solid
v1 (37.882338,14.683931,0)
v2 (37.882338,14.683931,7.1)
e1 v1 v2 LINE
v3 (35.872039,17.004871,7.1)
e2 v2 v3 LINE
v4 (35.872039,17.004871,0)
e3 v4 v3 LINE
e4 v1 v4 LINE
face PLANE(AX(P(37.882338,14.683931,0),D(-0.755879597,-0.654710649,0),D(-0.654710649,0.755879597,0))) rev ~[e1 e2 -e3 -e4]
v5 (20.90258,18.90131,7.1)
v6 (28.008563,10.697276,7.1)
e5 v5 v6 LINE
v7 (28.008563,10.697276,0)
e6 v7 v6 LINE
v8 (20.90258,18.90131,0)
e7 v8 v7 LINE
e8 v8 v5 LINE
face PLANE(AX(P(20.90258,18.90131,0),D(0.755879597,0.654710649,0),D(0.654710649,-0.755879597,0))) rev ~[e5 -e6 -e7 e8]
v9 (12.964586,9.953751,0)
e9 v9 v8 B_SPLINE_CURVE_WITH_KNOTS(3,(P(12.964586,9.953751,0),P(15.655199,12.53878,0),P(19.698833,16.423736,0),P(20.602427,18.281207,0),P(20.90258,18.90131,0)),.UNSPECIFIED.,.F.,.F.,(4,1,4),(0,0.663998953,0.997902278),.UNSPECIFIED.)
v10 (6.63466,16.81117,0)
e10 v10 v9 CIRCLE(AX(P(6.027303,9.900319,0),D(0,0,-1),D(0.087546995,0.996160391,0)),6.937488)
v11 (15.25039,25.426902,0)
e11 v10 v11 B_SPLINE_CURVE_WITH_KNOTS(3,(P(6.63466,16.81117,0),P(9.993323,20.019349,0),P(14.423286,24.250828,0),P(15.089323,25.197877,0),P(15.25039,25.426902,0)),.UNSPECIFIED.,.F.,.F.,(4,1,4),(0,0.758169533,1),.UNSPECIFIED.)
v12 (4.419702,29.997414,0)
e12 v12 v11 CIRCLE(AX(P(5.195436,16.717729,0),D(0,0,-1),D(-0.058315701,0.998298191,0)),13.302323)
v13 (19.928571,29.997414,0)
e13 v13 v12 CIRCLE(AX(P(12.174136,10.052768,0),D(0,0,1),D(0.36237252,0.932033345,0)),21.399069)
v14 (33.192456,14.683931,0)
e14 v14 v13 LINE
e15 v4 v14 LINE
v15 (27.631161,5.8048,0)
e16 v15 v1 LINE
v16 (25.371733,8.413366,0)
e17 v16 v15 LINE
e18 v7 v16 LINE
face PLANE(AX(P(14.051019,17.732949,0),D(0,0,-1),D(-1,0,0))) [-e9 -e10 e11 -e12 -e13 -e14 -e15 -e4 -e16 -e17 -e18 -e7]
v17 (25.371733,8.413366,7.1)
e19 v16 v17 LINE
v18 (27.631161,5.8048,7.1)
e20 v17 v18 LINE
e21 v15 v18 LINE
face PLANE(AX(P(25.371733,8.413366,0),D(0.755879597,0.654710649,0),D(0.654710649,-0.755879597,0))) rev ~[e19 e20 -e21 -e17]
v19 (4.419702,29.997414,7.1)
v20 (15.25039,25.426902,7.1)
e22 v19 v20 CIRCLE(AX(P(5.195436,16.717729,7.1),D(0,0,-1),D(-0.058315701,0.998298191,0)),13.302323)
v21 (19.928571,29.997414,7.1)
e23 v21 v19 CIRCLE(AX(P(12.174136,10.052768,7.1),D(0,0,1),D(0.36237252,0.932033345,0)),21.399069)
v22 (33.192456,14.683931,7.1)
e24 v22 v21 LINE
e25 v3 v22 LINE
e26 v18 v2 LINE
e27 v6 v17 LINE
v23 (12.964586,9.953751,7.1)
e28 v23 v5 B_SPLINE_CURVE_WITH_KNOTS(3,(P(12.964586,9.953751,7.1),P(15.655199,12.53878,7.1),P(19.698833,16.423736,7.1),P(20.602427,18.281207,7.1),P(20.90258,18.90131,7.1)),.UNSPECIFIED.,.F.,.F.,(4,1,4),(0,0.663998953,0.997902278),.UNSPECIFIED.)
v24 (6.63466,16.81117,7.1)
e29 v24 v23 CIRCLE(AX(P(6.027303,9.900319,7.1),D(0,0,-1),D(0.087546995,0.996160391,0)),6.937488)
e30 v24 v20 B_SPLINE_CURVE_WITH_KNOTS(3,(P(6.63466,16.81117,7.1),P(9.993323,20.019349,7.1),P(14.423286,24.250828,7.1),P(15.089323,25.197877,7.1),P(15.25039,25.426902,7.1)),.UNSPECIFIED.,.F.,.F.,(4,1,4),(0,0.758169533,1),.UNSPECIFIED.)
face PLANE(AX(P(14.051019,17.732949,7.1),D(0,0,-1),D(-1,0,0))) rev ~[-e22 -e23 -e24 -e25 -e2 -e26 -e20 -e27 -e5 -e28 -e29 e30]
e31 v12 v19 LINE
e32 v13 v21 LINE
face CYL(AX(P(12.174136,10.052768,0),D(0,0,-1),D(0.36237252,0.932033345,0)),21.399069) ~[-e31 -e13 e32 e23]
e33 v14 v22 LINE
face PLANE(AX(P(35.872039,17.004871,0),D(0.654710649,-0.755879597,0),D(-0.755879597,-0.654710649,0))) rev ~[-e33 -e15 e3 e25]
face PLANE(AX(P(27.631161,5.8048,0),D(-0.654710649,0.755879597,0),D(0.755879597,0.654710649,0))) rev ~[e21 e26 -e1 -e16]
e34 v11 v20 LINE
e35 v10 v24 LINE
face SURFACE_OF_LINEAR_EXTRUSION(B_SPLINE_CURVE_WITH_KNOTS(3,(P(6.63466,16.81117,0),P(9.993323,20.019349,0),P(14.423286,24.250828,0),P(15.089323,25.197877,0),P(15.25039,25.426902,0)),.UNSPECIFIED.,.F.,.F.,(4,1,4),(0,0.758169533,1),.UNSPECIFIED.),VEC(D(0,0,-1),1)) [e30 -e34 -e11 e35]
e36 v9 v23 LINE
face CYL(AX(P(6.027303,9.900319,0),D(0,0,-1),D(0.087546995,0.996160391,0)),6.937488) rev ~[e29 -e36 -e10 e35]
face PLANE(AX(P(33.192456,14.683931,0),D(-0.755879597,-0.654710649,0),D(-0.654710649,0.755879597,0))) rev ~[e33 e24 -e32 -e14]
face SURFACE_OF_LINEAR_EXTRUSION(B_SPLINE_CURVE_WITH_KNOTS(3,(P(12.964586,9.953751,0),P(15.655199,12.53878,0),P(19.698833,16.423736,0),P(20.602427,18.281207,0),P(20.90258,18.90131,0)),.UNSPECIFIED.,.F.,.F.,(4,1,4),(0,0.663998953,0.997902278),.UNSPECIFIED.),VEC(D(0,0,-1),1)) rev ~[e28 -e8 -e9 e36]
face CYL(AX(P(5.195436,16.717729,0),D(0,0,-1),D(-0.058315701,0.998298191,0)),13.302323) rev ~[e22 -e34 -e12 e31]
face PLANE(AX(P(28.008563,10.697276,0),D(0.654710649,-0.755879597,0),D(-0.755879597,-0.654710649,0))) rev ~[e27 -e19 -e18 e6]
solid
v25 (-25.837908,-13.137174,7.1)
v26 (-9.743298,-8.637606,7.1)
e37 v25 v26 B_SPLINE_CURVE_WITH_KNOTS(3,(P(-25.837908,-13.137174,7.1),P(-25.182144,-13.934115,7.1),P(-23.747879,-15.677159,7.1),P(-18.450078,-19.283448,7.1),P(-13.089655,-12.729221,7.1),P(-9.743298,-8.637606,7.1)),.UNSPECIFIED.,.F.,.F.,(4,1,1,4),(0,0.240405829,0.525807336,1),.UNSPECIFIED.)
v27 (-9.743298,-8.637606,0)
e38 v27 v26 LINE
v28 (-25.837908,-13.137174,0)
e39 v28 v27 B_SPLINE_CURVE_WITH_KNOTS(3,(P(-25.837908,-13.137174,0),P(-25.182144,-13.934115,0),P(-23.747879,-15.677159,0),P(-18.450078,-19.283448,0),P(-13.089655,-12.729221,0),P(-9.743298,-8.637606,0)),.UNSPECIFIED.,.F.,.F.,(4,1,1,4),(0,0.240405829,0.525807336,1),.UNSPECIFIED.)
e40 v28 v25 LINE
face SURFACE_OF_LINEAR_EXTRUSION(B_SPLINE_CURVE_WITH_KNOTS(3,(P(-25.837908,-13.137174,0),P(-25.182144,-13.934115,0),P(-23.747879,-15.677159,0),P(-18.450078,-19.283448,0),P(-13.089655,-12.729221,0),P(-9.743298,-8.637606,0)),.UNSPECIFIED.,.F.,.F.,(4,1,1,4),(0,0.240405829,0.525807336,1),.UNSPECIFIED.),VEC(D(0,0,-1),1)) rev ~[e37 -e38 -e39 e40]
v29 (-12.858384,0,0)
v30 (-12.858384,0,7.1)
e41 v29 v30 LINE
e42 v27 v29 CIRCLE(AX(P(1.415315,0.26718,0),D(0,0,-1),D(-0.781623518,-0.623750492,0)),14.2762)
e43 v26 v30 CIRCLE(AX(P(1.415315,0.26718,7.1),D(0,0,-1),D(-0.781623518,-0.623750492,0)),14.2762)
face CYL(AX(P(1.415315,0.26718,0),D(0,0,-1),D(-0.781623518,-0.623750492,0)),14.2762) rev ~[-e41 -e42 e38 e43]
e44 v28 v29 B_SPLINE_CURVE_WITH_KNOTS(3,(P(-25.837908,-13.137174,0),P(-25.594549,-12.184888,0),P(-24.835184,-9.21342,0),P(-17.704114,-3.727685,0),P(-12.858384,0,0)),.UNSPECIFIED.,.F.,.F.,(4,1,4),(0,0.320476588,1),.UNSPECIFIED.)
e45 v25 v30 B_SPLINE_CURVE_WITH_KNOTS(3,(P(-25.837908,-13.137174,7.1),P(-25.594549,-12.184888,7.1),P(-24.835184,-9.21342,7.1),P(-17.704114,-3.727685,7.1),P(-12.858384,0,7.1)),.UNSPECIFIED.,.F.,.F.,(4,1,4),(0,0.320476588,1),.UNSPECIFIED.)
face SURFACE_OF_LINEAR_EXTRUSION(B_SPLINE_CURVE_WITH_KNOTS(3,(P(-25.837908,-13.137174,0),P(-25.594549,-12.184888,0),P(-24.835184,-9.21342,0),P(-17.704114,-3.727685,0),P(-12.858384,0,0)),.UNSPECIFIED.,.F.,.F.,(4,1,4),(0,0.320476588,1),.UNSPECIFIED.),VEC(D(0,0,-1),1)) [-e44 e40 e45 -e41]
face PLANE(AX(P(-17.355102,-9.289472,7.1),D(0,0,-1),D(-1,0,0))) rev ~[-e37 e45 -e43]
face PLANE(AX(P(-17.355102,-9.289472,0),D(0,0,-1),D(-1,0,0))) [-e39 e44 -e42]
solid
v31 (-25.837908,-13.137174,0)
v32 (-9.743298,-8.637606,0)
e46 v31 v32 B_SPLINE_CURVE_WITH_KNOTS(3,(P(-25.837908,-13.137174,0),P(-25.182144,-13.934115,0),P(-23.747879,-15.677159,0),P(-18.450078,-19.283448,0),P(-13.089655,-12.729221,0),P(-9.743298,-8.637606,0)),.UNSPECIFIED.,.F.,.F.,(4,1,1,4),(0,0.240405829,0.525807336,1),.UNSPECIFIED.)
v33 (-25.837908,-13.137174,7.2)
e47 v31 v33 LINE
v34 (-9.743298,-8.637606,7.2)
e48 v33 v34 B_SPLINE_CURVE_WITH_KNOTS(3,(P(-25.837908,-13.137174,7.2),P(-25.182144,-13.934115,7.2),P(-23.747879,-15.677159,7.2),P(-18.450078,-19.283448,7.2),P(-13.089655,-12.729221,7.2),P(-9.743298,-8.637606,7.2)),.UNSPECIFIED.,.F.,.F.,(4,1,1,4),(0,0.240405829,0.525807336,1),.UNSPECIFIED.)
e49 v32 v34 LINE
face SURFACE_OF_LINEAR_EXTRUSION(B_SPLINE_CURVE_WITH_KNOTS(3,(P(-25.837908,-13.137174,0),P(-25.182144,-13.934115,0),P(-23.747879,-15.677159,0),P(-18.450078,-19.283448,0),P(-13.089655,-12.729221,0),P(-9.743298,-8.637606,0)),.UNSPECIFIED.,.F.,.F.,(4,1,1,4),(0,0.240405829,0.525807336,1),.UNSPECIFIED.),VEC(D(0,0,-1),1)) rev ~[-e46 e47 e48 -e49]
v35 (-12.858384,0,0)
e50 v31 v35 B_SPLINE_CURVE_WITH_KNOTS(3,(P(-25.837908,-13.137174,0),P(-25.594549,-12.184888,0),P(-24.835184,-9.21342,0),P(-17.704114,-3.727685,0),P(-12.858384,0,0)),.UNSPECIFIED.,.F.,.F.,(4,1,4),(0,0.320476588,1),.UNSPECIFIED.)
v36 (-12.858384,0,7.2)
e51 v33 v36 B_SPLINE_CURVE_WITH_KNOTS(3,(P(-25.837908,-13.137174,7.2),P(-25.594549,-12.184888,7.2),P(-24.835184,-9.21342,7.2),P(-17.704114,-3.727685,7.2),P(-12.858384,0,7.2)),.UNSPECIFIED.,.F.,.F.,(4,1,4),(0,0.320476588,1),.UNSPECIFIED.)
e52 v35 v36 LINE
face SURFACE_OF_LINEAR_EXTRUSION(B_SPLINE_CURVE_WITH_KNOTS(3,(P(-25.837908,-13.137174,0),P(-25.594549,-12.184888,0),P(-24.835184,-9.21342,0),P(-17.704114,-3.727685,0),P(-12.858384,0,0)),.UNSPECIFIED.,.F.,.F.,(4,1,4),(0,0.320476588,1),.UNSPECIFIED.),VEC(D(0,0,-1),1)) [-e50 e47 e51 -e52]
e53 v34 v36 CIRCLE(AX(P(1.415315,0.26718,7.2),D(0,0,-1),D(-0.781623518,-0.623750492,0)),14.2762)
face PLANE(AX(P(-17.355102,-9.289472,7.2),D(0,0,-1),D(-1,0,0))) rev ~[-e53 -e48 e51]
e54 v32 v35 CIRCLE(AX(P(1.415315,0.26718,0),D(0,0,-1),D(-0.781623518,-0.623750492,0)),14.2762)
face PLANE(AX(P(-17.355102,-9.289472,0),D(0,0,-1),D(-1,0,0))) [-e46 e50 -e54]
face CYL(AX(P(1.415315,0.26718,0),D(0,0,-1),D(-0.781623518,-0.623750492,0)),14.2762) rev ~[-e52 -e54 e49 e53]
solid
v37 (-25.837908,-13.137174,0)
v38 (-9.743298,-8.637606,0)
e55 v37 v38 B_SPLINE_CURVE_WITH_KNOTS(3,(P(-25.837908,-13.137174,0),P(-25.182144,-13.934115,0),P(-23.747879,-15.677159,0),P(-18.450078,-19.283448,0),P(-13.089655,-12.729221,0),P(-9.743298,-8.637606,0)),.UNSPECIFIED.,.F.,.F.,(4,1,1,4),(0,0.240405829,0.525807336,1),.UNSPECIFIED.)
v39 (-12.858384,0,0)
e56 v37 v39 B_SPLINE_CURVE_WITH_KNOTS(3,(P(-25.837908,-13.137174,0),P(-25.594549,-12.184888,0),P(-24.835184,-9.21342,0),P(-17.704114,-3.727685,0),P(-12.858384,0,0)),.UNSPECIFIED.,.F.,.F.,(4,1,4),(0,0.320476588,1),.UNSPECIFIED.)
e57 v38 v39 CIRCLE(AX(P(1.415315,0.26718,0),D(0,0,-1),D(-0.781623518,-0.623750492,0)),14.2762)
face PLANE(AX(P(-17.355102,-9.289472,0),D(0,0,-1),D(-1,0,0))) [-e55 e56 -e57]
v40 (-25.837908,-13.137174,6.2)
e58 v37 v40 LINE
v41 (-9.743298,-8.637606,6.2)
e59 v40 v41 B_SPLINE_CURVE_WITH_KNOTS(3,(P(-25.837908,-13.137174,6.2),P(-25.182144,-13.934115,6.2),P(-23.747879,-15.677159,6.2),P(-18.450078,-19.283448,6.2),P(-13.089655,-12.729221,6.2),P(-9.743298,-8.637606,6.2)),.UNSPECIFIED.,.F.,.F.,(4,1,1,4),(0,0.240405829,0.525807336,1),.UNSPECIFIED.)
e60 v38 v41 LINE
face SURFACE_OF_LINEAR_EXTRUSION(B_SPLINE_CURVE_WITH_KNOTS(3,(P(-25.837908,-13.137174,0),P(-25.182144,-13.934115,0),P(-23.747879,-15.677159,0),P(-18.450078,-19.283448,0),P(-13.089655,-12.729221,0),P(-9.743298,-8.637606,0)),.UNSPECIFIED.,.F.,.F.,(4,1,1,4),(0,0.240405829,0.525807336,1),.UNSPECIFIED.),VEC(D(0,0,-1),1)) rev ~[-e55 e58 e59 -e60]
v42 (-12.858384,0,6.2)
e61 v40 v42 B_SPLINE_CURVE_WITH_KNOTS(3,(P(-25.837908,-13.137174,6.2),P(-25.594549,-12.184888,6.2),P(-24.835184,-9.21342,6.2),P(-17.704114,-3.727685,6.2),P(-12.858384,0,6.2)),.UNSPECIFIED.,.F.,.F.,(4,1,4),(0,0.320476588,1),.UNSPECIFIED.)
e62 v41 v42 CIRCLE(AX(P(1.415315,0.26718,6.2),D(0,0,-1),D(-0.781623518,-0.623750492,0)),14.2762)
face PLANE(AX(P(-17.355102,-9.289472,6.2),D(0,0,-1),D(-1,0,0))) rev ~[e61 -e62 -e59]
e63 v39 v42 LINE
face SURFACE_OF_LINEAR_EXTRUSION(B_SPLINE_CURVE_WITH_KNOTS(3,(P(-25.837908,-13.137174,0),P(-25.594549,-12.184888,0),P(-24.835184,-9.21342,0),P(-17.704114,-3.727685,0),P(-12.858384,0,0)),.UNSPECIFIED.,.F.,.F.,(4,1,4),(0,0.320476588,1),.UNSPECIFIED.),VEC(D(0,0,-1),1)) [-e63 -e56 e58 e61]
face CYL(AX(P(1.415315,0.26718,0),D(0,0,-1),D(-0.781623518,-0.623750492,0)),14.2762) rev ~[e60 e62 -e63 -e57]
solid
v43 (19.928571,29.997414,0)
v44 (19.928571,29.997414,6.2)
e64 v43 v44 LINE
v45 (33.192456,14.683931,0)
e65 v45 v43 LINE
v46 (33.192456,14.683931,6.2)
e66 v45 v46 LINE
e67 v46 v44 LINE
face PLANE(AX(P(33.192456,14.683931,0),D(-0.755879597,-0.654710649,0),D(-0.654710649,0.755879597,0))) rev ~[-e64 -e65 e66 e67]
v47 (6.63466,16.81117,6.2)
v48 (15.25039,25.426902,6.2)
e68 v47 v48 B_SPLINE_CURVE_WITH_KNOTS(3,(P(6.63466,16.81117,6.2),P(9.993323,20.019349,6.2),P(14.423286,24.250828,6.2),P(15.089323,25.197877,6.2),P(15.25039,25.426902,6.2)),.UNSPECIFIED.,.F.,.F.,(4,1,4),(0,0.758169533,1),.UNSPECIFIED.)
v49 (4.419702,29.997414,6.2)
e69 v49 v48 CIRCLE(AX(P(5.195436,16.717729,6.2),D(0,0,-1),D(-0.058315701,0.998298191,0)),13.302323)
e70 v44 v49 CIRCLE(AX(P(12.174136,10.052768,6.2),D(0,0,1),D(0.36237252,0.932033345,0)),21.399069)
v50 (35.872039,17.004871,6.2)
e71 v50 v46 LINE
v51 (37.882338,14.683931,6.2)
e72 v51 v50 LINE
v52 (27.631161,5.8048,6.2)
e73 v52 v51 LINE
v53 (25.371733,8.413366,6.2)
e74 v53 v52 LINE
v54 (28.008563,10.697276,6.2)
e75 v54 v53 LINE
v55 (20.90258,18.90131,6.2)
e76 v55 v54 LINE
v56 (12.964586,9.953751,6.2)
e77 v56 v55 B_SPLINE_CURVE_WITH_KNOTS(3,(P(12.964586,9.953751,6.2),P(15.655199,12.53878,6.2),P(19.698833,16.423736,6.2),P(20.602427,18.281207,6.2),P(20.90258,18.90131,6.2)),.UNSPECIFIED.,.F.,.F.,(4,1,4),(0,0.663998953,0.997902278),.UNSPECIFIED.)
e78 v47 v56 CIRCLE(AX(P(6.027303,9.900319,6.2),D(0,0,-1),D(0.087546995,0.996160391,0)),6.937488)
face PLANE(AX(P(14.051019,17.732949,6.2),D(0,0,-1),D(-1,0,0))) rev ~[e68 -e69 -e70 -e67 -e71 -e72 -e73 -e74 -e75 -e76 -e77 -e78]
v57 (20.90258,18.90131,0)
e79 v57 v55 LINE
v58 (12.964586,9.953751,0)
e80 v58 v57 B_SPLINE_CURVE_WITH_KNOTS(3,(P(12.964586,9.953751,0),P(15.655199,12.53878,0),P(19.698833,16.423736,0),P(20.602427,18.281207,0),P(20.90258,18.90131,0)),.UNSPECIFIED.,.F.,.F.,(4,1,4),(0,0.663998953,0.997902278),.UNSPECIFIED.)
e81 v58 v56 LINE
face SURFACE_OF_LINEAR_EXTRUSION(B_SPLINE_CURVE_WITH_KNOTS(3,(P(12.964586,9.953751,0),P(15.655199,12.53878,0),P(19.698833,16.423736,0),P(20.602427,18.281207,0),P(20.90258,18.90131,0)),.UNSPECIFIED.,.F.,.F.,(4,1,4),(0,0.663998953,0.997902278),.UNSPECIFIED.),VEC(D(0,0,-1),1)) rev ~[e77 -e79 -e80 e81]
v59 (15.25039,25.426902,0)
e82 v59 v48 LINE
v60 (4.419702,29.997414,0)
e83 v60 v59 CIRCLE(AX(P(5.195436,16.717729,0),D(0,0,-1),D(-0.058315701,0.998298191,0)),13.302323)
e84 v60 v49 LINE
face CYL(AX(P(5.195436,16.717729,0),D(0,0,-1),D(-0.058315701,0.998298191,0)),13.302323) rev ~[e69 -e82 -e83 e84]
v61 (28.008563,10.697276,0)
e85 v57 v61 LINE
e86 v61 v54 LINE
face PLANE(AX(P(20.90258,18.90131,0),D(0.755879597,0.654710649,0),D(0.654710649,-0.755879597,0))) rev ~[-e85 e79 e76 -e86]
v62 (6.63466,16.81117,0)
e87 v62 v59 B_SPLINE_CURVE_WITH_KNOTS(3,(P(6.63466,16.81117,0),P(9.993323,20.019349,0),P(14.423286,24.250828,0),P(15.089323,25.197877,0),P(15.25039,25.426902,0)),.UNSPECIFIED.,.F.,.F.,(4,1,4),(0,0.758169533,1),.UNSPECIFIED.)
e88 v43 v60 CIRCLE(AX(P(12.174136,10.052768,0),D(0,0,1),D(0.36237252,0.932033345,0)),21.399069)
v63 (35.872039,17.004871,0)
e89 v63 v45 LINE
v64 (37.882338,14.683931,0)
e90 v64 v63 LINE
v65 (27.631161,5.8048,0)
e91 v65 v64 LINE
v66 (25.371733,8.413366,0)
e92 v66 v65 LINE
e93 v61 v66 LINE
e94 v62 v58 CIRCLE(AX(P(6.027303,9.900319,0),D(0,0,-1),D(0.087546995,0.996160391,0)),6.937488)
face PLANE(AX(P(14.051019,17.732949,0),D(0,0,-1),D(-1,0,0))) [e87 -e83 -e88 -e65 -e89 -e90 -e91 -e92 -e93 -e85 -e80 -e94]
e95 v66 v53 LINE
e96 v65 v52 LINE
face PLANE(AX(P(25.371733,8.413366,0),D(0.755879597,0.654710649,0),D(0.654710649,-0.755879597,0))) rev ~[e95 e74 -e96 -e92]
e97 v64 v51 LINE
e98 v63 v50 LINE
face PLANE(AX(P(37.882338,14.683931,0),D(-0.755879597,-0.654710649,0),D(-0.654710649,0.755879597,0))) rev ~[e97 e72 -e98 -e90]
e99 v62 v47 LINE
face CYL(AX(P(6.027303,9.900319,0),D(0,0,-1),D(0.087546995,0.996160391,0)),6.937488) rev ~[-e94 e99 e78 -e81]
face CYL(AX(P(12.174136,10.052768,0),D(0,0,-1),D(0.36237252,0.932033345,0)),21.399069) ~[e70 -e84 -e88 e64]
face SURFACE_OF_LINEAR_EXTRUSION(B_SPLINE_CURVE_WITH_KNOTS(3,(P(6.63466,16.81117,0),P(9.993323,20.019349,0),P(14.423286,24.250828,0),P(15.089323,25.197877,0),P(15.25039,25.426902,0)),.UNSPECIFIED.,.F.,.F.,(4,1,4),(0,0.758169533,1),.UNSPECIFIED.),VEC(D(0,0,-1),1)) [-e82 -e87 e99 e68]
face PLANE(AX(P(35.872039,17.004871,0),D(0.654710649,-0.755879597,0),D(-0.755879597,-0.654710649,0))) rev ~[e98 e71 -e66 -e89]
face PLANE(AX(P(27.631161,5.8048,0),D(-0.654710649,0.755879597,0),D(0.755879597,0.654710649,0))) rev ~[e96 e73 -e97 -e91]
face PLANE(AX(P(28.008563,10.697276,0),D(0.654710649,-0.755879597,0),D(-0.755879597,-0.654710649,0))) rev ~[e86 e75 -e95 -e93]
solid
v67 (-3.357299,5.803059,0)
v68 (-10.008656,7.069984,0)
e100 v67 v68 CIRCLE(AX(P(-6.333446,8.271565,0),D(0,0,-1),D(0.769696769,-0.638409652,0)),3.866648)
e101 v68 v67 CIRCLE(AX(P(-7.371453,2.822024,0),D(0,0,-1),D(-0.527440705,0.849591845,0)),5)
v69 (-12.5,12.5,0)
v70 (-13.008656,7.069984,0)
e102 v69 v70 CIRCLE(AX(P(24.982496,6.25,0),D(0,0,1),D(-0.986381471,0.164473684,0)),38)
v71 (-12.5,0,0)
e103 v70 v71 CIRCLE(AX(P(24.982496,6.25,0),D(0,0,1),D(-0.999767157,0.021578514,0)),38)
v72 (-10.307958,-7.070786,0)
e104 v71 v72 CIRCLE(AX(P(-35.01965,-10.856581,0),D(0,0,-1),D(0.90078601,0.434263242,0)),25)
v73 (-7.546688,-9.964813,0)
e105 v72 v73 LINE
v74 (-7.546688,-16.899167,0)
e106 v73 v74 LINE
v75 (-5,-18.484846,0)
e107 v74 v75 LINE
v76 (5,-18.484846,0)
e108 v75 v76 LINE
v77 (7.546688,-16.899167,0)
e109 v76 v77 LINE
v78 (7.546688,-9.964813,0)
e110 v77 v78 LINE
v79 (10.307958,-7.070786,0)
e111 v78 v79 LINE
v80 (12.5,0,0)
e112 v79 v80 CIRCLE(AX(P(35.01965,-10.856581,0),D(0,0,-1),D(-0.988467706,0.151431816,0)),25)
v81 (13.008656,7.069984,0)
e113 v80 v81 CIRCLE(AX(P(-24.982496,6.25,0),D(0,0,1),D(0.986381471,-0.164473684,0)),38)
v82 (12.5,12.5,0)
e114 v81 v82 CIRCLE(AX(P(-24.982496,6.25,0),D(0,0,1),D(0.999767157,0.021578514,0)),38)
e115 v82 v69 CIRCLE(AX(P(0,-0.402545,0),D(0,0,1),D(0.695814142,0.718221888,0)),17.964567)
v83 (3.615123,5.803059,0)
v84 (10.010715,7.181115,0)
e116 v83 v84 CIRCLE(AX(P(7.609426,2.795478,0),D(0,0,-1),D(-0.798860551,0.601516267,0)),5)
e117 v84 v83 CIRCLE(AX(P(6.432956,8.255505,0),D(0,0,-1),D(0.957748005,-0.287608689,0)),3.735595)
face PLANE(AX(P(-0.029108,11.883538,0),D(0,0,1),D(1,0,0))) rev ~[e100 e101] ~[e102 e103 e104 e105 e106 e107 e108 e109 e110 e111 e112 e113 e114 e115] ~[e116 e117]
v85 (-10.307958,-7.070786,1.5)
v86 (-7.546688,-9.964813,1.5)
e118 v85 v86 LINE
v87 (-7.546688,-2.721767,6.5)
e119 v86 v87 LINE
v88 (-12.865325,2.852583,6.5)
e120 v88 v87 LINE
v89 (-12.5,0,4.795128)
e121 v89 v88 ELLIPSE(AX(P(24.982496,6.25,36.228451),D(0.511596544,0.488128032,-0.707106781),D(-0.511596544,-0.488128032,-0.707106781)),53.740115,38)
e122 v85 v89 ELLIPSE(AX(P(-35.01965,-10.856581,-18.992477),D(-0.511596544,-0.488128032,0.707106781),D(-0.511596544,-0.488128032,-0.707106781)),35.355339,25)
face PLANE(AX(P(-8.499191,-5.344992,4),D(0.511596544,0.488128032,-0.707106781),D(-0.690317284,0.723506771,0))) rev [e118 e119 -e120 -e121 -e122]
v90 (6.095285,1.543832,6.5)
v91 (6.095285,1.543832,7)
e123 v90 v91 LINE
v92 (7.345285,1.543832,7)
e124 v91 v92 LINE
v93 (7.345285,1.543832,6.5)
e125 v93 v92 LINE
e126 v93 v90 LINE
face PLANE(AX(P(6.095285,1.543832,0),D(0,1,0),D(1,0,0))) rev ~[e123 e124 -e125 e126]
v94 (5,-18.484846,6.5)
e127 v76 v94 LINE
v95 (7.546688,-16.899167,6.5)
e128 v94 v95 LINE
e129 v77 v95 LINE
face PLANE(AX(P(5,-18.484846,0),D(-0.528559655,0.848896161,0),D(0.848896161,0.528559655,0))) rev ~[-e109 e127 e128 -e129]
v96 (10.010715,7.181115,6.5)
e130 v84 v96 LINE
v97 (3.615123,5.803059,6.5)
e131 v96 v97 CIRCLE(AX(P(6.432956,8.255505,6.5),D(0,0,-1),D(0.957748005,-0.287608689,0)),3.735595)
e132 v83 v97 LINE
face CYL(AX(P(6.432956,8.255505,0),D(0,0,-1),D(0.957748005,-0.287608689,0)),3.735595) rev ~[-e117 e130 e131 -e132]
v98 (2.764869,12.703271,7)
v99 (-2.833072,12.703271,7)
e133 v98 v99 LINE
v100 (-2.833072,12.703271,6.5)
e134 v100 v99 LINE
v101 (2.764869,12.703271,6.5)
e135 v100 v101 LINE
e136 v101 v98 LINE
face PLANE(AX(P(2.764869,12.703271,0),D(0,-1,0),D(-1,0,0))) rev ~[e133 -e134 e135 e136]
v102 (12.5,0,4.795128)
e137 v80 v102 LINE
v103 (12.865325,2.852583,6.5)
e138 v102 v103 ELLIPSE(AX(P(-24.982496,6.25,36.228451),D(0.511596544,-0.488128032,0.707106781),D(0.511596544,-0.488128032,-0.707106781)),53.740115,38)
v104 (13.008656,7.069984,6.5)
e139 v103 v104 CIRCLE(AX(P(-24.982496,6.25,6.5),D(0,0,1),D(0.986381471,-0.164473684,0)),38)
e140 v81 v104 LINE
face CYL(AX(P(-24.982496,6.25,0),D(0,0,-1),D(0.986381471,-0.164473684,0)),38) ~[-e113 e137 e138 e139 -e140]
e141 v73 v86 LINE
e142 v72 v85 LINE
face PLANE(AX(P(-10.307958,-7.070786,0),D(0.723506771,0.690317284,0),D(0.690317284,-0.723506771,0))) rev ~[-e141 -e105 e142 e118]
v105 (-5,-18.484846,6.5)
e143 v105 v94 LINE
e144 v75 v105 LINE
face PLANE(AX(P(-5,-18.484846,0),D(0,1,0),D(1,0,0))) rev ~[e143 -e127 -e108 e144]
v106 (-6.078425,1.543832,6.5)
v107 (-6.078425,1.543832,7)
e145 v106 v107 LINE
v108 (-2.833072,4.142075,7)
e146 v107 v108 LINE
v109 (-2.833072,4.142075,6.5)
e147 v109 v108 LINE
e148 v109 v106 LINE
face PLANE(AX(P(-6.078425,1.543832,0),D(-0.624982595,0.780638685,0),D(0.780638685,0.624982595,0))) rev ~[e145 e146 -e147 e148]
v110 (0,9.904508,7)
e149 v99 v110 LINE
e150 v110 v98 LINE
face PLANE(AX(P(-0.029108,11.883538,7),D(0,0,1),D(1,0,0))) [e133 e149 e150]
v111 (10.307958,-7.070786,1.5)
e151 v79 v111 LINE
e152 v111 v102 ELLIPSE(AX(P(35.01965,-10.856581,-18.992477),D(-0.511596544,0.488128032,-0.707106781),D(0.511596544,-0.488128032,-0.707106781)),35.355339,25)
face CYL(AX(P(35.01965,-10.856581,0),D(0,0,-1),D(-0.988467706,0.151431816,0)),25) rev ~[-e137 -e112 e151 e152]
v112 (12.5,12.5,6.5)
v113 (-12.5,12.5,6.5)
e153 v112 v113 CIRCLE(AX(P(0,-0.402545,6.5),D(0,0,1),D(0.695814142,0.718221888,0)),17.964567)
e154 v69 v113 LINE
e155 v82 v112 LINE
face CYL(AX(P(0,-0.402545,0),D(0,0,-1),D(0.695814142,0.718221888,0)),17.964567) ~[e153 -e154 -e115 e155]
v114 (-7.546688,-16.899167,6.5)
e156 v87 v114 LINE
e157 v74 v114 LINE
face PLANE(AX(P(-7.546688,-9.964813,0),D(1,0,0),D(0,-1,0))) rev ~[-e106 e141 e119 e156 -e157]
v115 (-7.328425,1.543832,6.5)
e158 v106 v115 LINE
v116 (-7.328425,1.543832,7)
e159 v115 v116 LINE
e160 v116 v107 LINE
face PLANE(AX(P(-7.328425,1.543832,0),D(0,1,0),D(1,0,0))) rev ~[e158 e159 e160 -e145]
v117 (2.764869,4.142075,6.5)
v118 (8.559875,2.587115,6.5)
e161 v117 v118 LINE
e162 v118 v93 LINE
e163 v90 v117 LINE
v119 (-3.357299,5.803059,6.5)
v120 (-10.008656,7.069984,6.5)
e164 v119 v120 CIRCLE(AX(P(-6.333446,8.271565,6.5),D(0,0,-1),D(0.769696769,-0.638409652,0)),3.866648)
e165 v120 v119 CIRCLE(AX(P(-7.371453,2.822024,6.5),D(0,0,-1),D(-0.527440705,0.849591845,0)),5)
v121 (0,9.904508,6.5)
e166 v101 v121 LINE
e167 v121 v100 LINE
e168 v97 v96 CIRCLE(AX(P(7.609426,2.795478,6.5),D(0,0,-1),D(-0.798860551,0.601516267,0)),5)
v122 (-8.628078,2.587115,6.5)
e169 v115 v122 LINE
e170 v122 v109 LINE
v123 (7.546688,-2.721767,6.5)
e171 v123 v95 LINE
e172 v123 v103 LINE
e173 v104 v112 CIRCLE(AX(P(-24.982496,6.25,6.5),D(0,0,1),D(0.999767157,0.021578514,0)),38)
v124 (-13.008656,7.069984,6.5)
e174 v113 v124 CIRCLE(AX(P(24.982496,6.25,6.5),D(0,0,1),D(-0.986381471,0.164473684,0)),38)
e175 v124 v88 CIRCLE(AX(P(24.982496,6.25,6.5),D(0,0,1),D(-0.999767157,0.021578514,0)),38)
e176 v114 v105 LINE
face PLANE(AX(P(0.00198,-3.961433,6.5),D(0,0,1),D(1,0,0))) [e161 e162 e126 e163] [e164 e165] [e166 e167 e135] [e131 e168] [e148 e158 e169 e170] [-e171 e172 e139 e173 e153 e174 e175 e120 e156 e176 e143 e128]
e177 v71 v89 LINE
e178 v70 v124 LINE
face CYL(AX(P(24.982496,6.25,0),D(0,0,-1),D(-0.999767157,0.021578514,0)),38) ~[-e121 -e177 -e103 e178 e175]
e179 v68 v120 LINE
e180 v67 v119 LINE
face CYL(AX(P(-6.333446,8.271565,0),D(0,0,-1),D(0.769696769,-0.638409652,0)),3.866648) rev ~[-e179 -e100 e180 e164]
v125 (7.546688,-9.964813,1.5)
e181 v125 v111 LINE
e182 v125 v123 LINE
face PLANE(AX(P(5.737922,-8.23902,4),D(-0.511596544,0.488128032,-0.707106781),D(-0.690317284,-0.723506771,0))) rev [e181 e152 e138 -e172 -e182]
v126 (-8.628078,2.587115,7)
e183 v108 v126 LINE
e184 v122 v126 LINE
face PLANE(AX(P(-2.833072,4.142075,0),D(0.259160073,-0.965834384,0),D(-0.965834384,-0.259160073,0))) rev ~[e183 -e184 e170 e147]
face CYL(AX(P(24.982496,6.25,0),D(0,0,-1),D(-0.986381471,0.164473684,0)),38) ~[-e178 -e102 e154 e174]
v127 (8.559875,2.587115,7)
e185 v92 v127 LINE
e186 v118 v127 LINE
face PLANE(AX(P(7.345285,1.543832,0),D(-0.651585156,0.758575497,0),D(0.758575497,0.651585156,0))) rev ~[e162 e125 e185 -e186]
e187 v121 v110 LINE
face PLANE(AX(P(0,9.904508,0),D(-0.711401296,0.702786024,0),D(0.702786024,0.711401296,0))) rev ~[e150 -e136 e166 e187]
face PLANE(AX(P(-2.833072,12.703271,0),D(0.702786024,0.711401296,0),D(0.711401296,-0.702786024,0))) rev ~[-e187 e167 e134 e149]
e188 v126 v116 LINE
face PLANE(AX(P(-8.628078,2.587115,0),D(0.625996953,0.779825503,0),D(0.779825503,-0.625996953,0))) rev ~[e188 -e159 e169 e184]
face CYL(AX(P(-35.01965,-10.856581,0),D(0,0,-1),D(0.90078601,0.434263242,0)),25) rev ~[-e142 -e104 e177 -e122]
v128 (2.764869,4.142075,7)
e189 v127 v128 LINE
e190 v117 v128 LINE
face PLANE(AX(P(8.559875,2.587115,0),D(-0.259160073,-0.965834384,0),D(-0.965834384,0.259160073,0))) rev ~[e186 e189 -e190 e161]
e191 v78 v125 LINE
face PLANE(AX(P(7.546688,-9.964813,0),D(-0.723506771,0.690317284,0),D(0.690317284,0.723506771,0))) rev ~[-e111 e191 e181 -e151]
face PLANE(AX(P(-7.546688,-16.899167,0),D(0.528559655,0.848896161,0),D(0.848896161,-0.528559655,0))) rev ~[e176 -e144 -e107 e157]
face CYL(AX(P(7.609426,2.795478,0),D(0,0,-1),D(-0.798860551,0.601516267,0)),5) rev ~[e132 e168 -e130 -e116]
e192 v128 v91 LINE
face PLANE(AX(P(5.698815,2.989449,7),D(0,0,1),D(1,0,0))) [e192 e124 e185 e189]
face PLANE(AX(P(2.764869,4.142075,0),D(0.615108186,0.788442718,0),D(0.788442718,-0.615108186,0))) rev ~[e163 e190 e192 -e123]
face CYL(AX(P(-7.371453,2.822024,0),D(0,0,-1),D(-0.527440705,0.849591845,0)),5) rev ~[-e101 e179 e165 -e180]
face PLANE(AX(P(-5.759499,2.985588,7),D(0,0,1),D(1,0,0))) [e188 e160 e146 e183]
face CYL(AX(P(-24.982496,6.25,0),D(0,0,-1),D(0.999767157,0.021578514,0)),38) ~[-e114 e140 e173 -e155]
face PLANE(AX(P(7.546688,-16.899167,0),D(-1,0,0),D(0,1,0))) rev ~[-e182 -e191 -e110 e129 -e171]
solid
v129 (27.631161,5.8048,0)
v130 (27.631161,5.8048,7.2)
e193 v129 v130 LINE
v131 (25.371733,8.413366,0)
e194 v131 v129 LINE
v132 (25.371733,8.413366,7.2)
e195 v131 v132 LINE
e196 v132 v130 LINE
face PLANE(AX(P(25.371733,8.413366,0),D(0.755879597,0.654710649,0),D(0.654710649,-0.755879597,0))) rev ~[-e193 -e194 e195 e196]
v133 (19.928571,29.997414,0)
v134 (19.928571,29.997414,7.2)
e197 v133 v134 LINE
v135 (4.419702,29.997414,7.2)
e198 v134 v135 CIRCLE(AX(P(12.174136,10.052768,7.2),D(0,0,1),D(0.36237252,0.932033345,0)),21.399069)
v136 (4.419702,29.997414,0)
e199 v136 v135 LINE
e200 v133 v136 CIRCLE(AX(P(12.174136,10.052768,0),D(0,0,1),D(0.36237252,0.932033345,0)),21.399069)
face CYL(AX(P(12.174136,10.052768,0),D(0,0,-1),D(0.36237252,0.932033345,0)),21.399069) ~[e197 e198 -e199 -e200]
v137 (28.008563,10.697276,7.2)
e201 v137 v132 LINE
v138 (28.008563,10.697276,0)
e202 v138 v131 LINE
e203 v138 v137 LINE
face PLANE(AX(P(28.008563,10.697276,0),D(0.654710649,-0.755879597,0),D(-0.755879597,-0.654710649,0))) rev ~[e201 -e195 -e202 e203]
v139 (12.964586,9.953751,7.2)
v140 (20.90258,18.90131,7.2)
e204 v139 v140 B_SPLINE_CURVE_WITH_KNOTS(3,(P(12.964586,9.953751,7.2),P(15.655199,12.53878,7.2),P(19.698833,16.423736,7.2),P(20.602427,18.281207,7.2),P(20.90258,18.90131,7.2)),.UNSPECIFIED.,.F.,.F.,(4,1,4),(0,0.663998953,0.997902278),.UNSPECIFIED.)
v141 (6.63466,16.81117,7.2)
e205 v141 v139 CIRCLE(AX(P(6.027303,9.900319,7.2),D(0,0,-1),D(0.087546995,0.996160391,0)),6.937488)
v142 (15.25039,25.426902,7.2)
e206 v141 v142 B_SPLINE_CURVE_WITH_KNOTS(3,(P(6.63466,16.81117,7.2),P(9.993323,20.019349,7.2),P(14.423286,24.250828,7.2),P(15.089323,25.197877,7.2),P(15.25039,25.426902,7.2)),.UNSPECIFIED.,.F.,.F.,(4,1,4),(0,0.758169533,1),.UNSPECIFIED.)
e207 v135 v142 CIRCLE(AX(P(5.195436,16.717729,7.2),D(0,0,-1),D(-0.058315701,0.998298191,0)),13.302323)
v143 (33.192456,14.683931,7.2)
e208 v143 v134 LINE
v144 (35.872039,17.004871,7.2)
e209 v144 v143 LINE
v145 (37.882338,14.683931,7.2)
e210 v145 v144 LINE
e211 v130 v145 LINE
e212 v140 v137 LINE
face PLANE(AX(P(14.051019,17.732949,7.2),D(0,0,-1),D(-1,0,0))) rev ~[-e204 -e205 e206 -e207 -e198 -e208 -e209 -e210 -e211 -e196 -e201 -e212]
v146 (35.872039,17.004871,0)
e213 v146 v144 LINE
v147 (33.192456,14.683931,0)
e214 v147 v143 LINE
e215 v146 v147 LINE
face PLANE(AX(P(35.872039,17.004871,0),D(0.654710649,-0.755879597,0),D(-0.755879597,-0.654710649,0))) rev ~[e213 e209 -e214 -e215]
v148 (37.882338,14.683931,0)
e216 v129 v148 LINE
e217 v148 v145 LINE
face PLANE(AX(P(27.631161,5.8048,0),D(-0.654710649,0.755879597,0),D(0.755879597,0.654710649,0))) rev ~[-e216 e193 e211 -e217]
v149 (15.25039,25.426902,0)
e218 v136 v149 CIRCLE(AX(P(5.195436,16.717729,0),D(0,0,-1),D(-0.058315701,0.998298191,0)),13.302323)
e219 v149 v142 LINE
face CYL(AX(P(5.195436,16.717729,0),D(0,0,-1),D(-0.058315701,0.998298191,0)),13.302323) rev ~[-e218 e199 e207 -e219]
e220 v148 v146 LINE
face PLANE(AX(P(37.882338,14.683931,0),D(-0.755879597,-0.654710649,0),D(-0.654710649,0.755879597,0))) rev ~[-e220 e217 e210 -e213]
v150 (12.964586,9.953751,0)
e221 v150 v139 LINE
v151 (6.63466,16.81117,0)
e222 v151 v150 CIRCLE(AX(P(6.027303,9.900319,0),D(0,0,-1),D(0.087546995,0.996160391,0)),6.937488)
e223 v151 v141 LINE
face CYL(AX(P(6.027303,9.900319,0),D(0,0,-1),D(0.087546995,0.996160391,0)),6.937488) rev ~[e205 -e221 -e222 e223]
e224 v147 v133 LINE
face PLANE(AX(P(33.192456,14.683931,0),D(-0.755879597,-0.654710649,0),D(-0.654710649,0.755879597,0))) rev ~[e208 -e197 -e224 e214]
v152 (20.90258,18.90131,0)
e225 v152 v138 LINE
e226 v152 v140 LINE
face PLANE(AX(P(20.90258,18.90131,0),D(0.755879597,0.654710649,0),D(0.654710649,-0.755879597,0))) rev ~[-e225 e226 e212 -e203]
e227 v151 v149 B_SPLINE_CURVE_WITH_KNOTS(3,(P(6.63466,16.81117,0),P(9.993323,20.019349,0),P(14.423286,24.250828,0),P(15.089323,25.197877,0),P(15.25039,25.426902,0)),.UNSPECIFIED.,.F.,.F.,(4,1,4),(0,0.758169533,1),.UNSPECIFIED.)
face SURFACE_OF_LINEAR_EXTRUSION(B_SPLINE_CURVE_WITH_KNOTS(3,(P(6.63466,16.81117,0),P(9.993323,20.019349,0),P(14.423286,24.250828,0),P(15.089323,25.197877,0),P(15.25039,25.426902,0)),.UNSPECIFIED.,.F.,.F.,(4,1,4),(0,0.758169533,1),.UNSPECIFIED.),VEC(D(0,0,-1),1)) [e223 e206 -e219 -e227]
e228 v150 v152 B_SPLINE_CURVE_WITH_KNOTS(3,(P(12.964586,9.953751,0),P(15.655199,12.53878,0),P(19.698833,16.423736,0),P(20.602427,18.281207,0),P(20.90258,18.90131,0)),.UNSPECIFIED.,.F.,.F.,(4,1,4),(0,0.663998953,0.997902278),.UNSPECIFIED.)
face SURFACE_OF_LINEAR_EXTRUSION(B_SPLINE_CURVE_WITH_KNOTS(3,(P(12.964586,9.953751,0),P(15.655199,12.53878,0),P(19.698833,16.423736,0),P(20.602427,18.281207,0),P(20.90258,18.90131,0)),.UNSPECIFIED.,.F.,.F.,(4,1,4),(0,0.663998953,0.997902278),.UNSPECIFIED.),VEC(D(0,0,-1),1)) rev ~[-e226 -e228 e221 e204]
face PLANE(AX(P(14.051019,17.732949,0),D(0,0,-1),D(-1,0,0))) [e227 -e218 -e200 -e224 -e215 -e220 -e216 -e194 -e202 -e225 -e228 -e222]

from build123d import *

# Parameters (mm, degrees)
F1_DEPTH = 6.5
F3_SIZE  = 5
F4_DEPTH = 7
F6_DEPTH = 7.2
F7_DEPTH = 7.1
F8_DEPTH = 6.2


with BuildPart() as f1:
    # F0 (on Top) → F1 (new body)
    with BuildSketch(Plane.XY):
        with BuildLine():
            Line((-5, -18.4848460191), (0, -18.4848460191))
            Line((0, -18.4848460191), (5, -18.4848460191))
            Line((5, -18.4848460191), (7.546688482, -16.8991670555))
            Line((7.546688482, -16.8991670555), (7.546688482, -9.9648127406))
            Line((7.546688482, -9.9648127406), (10.307957616, -7.0707856555))
            ThreePointArc((10.307957616, -7.0707856555), (11.1408114989, -3.4538072836), (12.5, 0))
            ThreePointArc((12.5, 0), (12.9195363206, 3.5231057176), (13.0086560419, 7.0699835415))
            Line((13.0086560419, 7.0699835415), (10.0107151117, 7.1811149009))
            ThreePointArc((10.0107151117, 7.1811149009), (7.2198051274, 4.6037186851), (3.6151232198, 5.803059395))
            Line((3.6151232198, 5.803059395), (-3.3572988263, 5.803059395))
            ThreePointArc((-3.3572988263, 5.803059395), (-7.0569417695, 4.4732070993), (-10.0086560419, 7.0699835415))
            Line((-10.0086560419, 7.0699835415), (-13.0086560419, 7.0699835415))
            ThreePointArc((-13.0086560419, 7.0699835415), (-12.9195363206, 3.5231057176), (-12.5, 0))
            ThreePointArc((-12.5, 0), (-11.1408114989, -3.4538072836), (-10.307957616, -7.0707856555))
            Line((-10.307957616, -7.0707856555), (-7.546688482, -9.9648127406))
            Line((-7.546688482, -9.9648127406), (-7.546688482, -16.8991670555))
            Line((-7.546688482, -16.8991670555), (-5, -18.4848460191))
        make_face()
        with BuildLine():
            ThreePointArc((-12.5, 12.5), (-12.8518687613, 9.7941288861), (-13.0086560419, 7.0699835415))
            Line((-13.0086560419, 7.0699835415), (-10.0086560419, 7.0699835415))
            ThreePointArc((-10.0086560419, 7.0699835415), (-6.435892718, 7.7337172897), (-3.3572988263, 5.803059395))
            Line((-3.3572988263, 5.803059395), (3.6151232198, 5.803059395))
            ThreePointArc((3.6151232198, 5.803059395), (6.5562487153, 7.6833014675), (10.0107151117, 7.1811149009))
            Line((10.0107151117, 7.1811149009), (13.0086560419, 7.0699835415))
            ThreePointArc((13.0086560419, 7.0699835415), (12.8518687613, 9.7941288861), (12.5, 12.5))
            ThreePointArc((12.5, 12.5), (0, 17.5620218672), (-12.5, 12.5))
        make_face()
    extrude(amount=F1_DEPTH)

    # F3
    f3_edges = [f1.edges().sort_by_distance(p)[0] for p in [
        (-8.927323, -8.517799, 6.5),
        (8.927323, -8.517799, 6.5),
    ]]
    chamfer(f3_edges, length=F3_SIZE)

    # F2 (on Top) → F4 (join)
    with BuildSketch(Plane.XY):
        Polygon((2.7648685425, 12.7032707048), (0, 12.7032707048), (-2.8330716532, 12.7032707048), (0, 9.9045083547), align=None)
        Polygon((-7.3284250684, 1.5438316623), (-2.8330716532, 4.1420751754), (-8.6280779543, 2.5871147354), align=None)
        Polygon((-6.0784250684, 1.5438316623), (-2.8330716532, 4.1420751754), (-7.3284250684, 1.5438316623), align=None)
        Polygon((8.5598748436, 2.5871147354), (2.7648685425, 4.1420751754), (7.3452845961, 1.5438316623), align=None)
        Polygon((7.3452845961, 1.5438316623), (2.7648685425, 4.1420751754), (6.0952845961, 1.5438316623), align=None)
    extrude(amount=F4_DEPTH)


with BuildPart() as f6:
    # F5 (on Top) → F6 (new body)
    with BuildSketch(Plane.XY):
        with BuildLine():
            add(Edge.make_bspline(
                [(-25.8379075676, -13.1371738389), (-25.5945488681, -12.1848880245), (-24.8351838835, -9.213420376), (-17.7041135385, -3.727685368), (-12.8583842888, 0)],
                knots=[0, 0, 0, 0, 0.3204765883, 1, 1, 1, 1], degree=3))
            add(Edge.make_bspline(
                [(-25.8379075676, -13.1371738389), (-25.1821435427, -13.9341154603), (-23.7478790856, -15.6771586869), (-18.4500778378, -19.2834477125), (-13.0896551761, -12.7292205484), (-9.7432984039, -8.6376061663)],
                knots=[0, 0, 0, 0, 0.2404058287, 0.5258073365, 1, 1, 1, 1], degree=3))
            ThreePointArc((-9.7432984039, -8.6376061663), (-12.0142304981, -4.5760813654), (-12.8583842888, 0))
        make_face()
    extrude(amount=F6_DEPTH)


with BuildPart() as f6b:
    # F5 (on Top) → F6, piece 2 (new body)
    with BuildSketch(Plane.XY):
        with BuildLine():
            add(Edge.make_bspline(
                [(6.6346595995, 16.8111696839), (9.9933228586, 20.0193486711), (14.4232862269, 24.2508283688), (15.0893225263, 25.1978767297), (15.2503903955, 25.4269018769)],
                knots=[0, 0, 0, 0, 0.7581695332, 1, 1, 1, 1], degree=3))
            ThreePointArc((6.6346595995, 16.8111696839), (11.1249930464, 14.6058795236), (12.964585796, 9.9537512287))
            add(Edge.make_bspline(
                [(12.964585796, 9.9537512287), (15.655198787, 12.5387803888), (19.6988329208, 16.4237360414), (20.6024271345, 18.2812074964), (20.9025796213, 18.9013099688)],
                knots=[0, 0, 0, 0, 0.6639989533, 0.9979022778, 0.9979022778, 0.9979022778, 0.9979022778], degree=3))
            Line((20.9025796213, 18.9013099688), (15.2503903955, 25.4269018769))
        make_face()
        with BuildLine():
            Line((20.9082365036, 18.9129970968), (15.2503903955, 25.4269018769))
            Line((15.2503903955, 25.4269018769), (20.9025796213, 18.9013099688))
            add(Edge.make_bspline(
                [(20.9025796213, 18.9013099688), (20.9044653065, 18.9052057154), (20.9063509051, 18.9091014061), (20.9082365036, 18.9129970968)],
                knots=[0.9979022778, 0.9979022778, 0.9979022778, 0.9979022778, 1, 1, 1, 1], degree=3))
        make_face()
        with BuildLine():
            ThreePointArc((4.4197016396, 29.9974143004), (10.3673193121, 28.9734797637), (15.2503903955, 25.4269018769))
            Line((15.2503903955, 25.4269018769), (20.9082365036, 18.9129970968))
            add(Edge.make_bspline(
                [(20.9025796213, 18.9013099688), (20.9044653065, 18.9052057154), (20.9063509051, 18.9091014061), (20.9082365036, 18.9129970968)],
                knots=[0.9979022778, 0.9979022778, 0.9979022778, 0.9979022778, 1, 1, 1, 1], degree=3))
            Line((20.9025796213, 18.9013099688), (28.008563444, 10.6972763315))
            Line((28.008563444, 10.6972763315), (25.3717325873, 8.4133659723))
            Line((25.3717325873, 8.4133659723), (27.6311614719, 5.8047995819))
            Line((27.6311614719, 5.8047995819), (37.8823381157, 14.6839313133))
            Line((37.8823381157, 14.6839313133), (35.8720388572, 17.004871404))
            Line((35.8720388572, 17.004871404), (33.1924562619, 14.6839313133))
            Line((33.1924562619, 14.6839313133), (19.928570814, 29.9974143004))
            ThreePointArc((19.928570814, 29.9974143004), (12.1741362268, 31.4518374404), (4.4197016396, 29.9974143004))
        make_face()
    extrude(amount=F6_DEPTH)


with BuildPart() as f7:
    # F5 (on Top) → F7 (new body)
    with BuildSketch(Plane.XY):
        with BuildLine():
            add(Edge.make_bspline(
                [(-25.8379075676, -13.1371738389), (-25.5945488681, -12.1848880245), (-24.8351838835, -9.213420376), (-17.7041135385, -3.727685368), (-12.8583842888, 0)],
                knots=[0, 0, 0, 0, 0.3204765883, 1, 1, 1, 1], degree=3))
            add(Edge.make_bspline(
                [(-25.8379075676, -13.1371738389), (-25.1821435427, -13.9341154603), (-23.7478790856, -15.6771586869), (-18.4500778378, -19.2834477125), (-13.0896551761, -12.7292205484), (-9.7432984039, -8.6376061663)],
                knots=[0, 0, 0, 0, 0.2404058287, 0.5258073365, 1, 1, 1, 1], degree=3))
            ThreePointArc((-9.7432984039, -8.6376061663), (-12.0142304981, -4.5760813654), (-12.8583842888, 0))
        make_face()
    extrude(amount=F7_DEPTH)


with BuildPart() as f7b:
    # F5 (on Top) → F7, piece 2 (new body)
    with BuildSketch(Plane.XY):
        with BuildLine():
            add(Edge.make_bspline(
                [(6.6346595995, 16.8111696839), (9.9933228586, 20.0193486711), (14.4232862269, 24.2508283688), (15.0893225263, 25.1978767297), (15.2503903955, 25.4269018769)],
                knots=[0, 0, 0, 0, 0.7581695332, 1, 1, 1, 1], degree=3))
            ThreePointArc((6.6346595995, 16.8111696839), (11.1249930464, 14.6058795236), (12.964585796, 9.9537512287))
            add(Edge.make_bspline(
                [(12.964585796, 9.9537512287), (15.655198787, 12.5387803888), (19.6988329208, 16.4237360414), (20.6024271345, 18.2812074964), (20.9025796213, 18.9013099688)],
                knots=[0, 0, 0, 0, 0.6639989533, 0.9979022778, 0.9979022778, 0.9979022778, 0.9979022778], degree=3))
            Line((20.9025796213, 18.9013099688), (15.2503903955, 25.4269018769))
        make_face()
        with BuildLine():
            Line((20.9082365036, 18.9129970968), (15.2503903955, 25.4269018769))
            Line((15.2503903955, 25.4269018769), (20.9025796213, 18.9013099688))
            add(Edge.make_bspline(
                [(20.9025796213, 18.9013099688), (20.9044653065, 18.9052057154), (20.9063509051, 18.9091014061), (20.9082365036, 18.9129970968)],
                knots=[0.9979022778, 0.9979022778, 0.9979022778, 0.9979022778, 1, 1, 1, 1], degree=3))
        make_face()
        with BuildLine():
            ThreePointArc((4.4197016396, 29.9974143004), (10.3673193121, 28.9734797637), (15.2503903955, 25.4269018769))
            Line((15.2503903955, 25.4269018769), (20.9082365036, 18.9129970968))
            add(Edge.make_bspline(
                [(20.9025796213, 18.9013099688), (20.9044653065, 18.9052057154), (20.9063509051, 18.9091014061), (20.9082365036, 18.9129970968)],
                knots=[0.9979022778, 0.9979022778, 0.9979022778, 0.9979022778, 1, 1, 1, 1], degree=3))
            Line((20.9025796213, 18.9013099688), (28.008563444, 10.6972763315))
            Line((28.008563444, 10.6972763315), (25.3717325873, 8.4133659723))
            Line((25.3717325873, 8.4133659723), (27.6311614719, 5.8047995819))
            Line((27.6311614719, 5.8047995819), (37.8823381157, 14.6839313133))
            Line((37.8823381157, 14.6839313133), (35.8720388572, 17.004871404))
            Line((35.8720388572, 17.004871404), (33.1924562619, 14.6839313133))
            Line((33.1924562619, 14.6839313133), (19.928570814, 29.9974143004))
            ThreePointArc((19.928570814, 29.9974143004), (12.1741362268, 31.4518374404), (4.4197016396, 29.9974143004))
        make_face()
    extrude(amount=F7_DEPTH)


with BuildPart() as f8:
    # F5 (on Top) → F8 (new body)
    with BuildSketch(Plane.XY):
        with BuildLine():
            add(Edge.make_bspline(
                [(-25.8379075676, -13.1371738389), (-25.5945488681, -12.1848880245), (-24.8351838835, -9.213420376), (-17.7041135385, -3.727685368), (-12.8583842888, 0)],
                knots=[0, 0, 0, 0, 0.3204765883, 1, 1, 1, 1], degree=3))
            add(Edge.make_bspline(
                [(-25.8379075676, -13.1371738389), (-25.1821435427, -13.9341154603), (-23.7478790856, -15.6771586869), (-18.4500778378, -19.2834477125), (-13.0896551761, -12.7292205484), (-9.7432984039, -8.6376061663)],
                knots=[0, 0, 0, 0, 0.2404058287, 0.5258073365, 1, 1, 1, 1], degree=3))
            ThreePointArc((-9.7432984039, -8.6376061663), (-12.0142304981, -4.5760813654), (-12.8583842888, 0))
        make_face()
    extrude(amount=F8_DEPTH)


with BuildPart() as f8b:
    # F5 (on Top) → F8, piece 2 (new body)
    with BuildSketch(Plane.XY):
        with BuildLine():
            add(Edge.make_bspline(
                [(6.6346595995, 16.8111696839), (9.9933228586, 20.0193486711), (14.4232862269, 24.2508283688), (15.0893225263, 25.1978767297), (15.2503903955, 25.4269018769)],
                knots=[0, 0, 0, 0, 0.7581695332, 1, 1, 1, 1], degree=3))
            ThreePointArc((6.6346595995, 16.8111696839), (11.1249930464, 14.6058795236), (12.964585796, 9.9537512287))
            add(Edge.make_bspline(
                [(12.964585796, 9.9537512287), (15.655198787, 12.5387803888), (19.6988329208, 16.4237360414), (20.6024271345, 18.2812074964), (20.9025796213, 18.9013099688)],
                knots=[0, 0, 0, 0, 0.6639989533, 0.9979022778, 0.9979022778, 0.9979022778, 0.9979022778], degree=3))
            Line((20.9025796213, 18.9013099688), (15.2503903955, 25.4269018769))
        make_face()
        with BuildLine():
            Line((20.9082365036, 18.9129970968), (15.2503903955, 25.4269018769))
            Line((15.2503903955, 25.4269018769), (20.9025796213, 18.9013099688))
            add(Edge.make_bspline(
                [(20.9025796213, 18.9013099688), (20.9044653065, 18.9052057154), (20.9063509051, 18.9091014061), (20.9082365036, 18.9129970968)],
                knots=[0.9979022778, 0.9979022778, 0.9979022778, 0.9979022778, 1, 1, 1, 1], degree=3))
        make_face()
        with BuildLine():
            ThreePointArc((4.4197016396, 29.9974143004), (10.3673193121, 28.9734797637), (15.2503903955, 25.4269018769))
            Line((15.2503903955, 25.4269018769), (20.9082365036, 18.9129970968))
            add(Edge.make_bspline(
                [(20.9025796213, 18.9013099688), (20.9044653065, 18.9052057154), (20.9063509051, 18.9091014061), (20.9082365036, 18.9129970968)],
                knots=[0.9979022778, 0.9979022778, 0.9979022778, 0.9979022778, 1, 1, 1, 1], degree=3))
            Line((20.9025796213, 18.9013099688), (28.008563444, 10.6972763315))
            Line((28.008563444, 10.6972763315), (25.3717325873, 8.4133659723))
            Line((25.3717325873, 8.4133659723), (27.6311614719, 5.8047995819))
            Line((27.6311614719, 5.8047995819), (37.8823381157, 14.6839313133))
            Line((37.8823381157, 14.6839313133), (35.8720388572, 17.004871404))
            Line((35.8720388572, 17.004871404), (33.1924562619, 14.6839313133))
            Line((33.1924562619, 14.6839313133), (19.928570814, 29.9974143004))
            ThreePointArc((19.928570814, 29.9974143004), (12.1741362268, 31.4518374404), (4.4197016396, 29.9974143004))
        make_face()
    extrude(amount=F8_DEPTH)


solid = Compound([f1.part, f6.part, f6b.part, f7.part, f7b.part, f8.part, f8b.part])
